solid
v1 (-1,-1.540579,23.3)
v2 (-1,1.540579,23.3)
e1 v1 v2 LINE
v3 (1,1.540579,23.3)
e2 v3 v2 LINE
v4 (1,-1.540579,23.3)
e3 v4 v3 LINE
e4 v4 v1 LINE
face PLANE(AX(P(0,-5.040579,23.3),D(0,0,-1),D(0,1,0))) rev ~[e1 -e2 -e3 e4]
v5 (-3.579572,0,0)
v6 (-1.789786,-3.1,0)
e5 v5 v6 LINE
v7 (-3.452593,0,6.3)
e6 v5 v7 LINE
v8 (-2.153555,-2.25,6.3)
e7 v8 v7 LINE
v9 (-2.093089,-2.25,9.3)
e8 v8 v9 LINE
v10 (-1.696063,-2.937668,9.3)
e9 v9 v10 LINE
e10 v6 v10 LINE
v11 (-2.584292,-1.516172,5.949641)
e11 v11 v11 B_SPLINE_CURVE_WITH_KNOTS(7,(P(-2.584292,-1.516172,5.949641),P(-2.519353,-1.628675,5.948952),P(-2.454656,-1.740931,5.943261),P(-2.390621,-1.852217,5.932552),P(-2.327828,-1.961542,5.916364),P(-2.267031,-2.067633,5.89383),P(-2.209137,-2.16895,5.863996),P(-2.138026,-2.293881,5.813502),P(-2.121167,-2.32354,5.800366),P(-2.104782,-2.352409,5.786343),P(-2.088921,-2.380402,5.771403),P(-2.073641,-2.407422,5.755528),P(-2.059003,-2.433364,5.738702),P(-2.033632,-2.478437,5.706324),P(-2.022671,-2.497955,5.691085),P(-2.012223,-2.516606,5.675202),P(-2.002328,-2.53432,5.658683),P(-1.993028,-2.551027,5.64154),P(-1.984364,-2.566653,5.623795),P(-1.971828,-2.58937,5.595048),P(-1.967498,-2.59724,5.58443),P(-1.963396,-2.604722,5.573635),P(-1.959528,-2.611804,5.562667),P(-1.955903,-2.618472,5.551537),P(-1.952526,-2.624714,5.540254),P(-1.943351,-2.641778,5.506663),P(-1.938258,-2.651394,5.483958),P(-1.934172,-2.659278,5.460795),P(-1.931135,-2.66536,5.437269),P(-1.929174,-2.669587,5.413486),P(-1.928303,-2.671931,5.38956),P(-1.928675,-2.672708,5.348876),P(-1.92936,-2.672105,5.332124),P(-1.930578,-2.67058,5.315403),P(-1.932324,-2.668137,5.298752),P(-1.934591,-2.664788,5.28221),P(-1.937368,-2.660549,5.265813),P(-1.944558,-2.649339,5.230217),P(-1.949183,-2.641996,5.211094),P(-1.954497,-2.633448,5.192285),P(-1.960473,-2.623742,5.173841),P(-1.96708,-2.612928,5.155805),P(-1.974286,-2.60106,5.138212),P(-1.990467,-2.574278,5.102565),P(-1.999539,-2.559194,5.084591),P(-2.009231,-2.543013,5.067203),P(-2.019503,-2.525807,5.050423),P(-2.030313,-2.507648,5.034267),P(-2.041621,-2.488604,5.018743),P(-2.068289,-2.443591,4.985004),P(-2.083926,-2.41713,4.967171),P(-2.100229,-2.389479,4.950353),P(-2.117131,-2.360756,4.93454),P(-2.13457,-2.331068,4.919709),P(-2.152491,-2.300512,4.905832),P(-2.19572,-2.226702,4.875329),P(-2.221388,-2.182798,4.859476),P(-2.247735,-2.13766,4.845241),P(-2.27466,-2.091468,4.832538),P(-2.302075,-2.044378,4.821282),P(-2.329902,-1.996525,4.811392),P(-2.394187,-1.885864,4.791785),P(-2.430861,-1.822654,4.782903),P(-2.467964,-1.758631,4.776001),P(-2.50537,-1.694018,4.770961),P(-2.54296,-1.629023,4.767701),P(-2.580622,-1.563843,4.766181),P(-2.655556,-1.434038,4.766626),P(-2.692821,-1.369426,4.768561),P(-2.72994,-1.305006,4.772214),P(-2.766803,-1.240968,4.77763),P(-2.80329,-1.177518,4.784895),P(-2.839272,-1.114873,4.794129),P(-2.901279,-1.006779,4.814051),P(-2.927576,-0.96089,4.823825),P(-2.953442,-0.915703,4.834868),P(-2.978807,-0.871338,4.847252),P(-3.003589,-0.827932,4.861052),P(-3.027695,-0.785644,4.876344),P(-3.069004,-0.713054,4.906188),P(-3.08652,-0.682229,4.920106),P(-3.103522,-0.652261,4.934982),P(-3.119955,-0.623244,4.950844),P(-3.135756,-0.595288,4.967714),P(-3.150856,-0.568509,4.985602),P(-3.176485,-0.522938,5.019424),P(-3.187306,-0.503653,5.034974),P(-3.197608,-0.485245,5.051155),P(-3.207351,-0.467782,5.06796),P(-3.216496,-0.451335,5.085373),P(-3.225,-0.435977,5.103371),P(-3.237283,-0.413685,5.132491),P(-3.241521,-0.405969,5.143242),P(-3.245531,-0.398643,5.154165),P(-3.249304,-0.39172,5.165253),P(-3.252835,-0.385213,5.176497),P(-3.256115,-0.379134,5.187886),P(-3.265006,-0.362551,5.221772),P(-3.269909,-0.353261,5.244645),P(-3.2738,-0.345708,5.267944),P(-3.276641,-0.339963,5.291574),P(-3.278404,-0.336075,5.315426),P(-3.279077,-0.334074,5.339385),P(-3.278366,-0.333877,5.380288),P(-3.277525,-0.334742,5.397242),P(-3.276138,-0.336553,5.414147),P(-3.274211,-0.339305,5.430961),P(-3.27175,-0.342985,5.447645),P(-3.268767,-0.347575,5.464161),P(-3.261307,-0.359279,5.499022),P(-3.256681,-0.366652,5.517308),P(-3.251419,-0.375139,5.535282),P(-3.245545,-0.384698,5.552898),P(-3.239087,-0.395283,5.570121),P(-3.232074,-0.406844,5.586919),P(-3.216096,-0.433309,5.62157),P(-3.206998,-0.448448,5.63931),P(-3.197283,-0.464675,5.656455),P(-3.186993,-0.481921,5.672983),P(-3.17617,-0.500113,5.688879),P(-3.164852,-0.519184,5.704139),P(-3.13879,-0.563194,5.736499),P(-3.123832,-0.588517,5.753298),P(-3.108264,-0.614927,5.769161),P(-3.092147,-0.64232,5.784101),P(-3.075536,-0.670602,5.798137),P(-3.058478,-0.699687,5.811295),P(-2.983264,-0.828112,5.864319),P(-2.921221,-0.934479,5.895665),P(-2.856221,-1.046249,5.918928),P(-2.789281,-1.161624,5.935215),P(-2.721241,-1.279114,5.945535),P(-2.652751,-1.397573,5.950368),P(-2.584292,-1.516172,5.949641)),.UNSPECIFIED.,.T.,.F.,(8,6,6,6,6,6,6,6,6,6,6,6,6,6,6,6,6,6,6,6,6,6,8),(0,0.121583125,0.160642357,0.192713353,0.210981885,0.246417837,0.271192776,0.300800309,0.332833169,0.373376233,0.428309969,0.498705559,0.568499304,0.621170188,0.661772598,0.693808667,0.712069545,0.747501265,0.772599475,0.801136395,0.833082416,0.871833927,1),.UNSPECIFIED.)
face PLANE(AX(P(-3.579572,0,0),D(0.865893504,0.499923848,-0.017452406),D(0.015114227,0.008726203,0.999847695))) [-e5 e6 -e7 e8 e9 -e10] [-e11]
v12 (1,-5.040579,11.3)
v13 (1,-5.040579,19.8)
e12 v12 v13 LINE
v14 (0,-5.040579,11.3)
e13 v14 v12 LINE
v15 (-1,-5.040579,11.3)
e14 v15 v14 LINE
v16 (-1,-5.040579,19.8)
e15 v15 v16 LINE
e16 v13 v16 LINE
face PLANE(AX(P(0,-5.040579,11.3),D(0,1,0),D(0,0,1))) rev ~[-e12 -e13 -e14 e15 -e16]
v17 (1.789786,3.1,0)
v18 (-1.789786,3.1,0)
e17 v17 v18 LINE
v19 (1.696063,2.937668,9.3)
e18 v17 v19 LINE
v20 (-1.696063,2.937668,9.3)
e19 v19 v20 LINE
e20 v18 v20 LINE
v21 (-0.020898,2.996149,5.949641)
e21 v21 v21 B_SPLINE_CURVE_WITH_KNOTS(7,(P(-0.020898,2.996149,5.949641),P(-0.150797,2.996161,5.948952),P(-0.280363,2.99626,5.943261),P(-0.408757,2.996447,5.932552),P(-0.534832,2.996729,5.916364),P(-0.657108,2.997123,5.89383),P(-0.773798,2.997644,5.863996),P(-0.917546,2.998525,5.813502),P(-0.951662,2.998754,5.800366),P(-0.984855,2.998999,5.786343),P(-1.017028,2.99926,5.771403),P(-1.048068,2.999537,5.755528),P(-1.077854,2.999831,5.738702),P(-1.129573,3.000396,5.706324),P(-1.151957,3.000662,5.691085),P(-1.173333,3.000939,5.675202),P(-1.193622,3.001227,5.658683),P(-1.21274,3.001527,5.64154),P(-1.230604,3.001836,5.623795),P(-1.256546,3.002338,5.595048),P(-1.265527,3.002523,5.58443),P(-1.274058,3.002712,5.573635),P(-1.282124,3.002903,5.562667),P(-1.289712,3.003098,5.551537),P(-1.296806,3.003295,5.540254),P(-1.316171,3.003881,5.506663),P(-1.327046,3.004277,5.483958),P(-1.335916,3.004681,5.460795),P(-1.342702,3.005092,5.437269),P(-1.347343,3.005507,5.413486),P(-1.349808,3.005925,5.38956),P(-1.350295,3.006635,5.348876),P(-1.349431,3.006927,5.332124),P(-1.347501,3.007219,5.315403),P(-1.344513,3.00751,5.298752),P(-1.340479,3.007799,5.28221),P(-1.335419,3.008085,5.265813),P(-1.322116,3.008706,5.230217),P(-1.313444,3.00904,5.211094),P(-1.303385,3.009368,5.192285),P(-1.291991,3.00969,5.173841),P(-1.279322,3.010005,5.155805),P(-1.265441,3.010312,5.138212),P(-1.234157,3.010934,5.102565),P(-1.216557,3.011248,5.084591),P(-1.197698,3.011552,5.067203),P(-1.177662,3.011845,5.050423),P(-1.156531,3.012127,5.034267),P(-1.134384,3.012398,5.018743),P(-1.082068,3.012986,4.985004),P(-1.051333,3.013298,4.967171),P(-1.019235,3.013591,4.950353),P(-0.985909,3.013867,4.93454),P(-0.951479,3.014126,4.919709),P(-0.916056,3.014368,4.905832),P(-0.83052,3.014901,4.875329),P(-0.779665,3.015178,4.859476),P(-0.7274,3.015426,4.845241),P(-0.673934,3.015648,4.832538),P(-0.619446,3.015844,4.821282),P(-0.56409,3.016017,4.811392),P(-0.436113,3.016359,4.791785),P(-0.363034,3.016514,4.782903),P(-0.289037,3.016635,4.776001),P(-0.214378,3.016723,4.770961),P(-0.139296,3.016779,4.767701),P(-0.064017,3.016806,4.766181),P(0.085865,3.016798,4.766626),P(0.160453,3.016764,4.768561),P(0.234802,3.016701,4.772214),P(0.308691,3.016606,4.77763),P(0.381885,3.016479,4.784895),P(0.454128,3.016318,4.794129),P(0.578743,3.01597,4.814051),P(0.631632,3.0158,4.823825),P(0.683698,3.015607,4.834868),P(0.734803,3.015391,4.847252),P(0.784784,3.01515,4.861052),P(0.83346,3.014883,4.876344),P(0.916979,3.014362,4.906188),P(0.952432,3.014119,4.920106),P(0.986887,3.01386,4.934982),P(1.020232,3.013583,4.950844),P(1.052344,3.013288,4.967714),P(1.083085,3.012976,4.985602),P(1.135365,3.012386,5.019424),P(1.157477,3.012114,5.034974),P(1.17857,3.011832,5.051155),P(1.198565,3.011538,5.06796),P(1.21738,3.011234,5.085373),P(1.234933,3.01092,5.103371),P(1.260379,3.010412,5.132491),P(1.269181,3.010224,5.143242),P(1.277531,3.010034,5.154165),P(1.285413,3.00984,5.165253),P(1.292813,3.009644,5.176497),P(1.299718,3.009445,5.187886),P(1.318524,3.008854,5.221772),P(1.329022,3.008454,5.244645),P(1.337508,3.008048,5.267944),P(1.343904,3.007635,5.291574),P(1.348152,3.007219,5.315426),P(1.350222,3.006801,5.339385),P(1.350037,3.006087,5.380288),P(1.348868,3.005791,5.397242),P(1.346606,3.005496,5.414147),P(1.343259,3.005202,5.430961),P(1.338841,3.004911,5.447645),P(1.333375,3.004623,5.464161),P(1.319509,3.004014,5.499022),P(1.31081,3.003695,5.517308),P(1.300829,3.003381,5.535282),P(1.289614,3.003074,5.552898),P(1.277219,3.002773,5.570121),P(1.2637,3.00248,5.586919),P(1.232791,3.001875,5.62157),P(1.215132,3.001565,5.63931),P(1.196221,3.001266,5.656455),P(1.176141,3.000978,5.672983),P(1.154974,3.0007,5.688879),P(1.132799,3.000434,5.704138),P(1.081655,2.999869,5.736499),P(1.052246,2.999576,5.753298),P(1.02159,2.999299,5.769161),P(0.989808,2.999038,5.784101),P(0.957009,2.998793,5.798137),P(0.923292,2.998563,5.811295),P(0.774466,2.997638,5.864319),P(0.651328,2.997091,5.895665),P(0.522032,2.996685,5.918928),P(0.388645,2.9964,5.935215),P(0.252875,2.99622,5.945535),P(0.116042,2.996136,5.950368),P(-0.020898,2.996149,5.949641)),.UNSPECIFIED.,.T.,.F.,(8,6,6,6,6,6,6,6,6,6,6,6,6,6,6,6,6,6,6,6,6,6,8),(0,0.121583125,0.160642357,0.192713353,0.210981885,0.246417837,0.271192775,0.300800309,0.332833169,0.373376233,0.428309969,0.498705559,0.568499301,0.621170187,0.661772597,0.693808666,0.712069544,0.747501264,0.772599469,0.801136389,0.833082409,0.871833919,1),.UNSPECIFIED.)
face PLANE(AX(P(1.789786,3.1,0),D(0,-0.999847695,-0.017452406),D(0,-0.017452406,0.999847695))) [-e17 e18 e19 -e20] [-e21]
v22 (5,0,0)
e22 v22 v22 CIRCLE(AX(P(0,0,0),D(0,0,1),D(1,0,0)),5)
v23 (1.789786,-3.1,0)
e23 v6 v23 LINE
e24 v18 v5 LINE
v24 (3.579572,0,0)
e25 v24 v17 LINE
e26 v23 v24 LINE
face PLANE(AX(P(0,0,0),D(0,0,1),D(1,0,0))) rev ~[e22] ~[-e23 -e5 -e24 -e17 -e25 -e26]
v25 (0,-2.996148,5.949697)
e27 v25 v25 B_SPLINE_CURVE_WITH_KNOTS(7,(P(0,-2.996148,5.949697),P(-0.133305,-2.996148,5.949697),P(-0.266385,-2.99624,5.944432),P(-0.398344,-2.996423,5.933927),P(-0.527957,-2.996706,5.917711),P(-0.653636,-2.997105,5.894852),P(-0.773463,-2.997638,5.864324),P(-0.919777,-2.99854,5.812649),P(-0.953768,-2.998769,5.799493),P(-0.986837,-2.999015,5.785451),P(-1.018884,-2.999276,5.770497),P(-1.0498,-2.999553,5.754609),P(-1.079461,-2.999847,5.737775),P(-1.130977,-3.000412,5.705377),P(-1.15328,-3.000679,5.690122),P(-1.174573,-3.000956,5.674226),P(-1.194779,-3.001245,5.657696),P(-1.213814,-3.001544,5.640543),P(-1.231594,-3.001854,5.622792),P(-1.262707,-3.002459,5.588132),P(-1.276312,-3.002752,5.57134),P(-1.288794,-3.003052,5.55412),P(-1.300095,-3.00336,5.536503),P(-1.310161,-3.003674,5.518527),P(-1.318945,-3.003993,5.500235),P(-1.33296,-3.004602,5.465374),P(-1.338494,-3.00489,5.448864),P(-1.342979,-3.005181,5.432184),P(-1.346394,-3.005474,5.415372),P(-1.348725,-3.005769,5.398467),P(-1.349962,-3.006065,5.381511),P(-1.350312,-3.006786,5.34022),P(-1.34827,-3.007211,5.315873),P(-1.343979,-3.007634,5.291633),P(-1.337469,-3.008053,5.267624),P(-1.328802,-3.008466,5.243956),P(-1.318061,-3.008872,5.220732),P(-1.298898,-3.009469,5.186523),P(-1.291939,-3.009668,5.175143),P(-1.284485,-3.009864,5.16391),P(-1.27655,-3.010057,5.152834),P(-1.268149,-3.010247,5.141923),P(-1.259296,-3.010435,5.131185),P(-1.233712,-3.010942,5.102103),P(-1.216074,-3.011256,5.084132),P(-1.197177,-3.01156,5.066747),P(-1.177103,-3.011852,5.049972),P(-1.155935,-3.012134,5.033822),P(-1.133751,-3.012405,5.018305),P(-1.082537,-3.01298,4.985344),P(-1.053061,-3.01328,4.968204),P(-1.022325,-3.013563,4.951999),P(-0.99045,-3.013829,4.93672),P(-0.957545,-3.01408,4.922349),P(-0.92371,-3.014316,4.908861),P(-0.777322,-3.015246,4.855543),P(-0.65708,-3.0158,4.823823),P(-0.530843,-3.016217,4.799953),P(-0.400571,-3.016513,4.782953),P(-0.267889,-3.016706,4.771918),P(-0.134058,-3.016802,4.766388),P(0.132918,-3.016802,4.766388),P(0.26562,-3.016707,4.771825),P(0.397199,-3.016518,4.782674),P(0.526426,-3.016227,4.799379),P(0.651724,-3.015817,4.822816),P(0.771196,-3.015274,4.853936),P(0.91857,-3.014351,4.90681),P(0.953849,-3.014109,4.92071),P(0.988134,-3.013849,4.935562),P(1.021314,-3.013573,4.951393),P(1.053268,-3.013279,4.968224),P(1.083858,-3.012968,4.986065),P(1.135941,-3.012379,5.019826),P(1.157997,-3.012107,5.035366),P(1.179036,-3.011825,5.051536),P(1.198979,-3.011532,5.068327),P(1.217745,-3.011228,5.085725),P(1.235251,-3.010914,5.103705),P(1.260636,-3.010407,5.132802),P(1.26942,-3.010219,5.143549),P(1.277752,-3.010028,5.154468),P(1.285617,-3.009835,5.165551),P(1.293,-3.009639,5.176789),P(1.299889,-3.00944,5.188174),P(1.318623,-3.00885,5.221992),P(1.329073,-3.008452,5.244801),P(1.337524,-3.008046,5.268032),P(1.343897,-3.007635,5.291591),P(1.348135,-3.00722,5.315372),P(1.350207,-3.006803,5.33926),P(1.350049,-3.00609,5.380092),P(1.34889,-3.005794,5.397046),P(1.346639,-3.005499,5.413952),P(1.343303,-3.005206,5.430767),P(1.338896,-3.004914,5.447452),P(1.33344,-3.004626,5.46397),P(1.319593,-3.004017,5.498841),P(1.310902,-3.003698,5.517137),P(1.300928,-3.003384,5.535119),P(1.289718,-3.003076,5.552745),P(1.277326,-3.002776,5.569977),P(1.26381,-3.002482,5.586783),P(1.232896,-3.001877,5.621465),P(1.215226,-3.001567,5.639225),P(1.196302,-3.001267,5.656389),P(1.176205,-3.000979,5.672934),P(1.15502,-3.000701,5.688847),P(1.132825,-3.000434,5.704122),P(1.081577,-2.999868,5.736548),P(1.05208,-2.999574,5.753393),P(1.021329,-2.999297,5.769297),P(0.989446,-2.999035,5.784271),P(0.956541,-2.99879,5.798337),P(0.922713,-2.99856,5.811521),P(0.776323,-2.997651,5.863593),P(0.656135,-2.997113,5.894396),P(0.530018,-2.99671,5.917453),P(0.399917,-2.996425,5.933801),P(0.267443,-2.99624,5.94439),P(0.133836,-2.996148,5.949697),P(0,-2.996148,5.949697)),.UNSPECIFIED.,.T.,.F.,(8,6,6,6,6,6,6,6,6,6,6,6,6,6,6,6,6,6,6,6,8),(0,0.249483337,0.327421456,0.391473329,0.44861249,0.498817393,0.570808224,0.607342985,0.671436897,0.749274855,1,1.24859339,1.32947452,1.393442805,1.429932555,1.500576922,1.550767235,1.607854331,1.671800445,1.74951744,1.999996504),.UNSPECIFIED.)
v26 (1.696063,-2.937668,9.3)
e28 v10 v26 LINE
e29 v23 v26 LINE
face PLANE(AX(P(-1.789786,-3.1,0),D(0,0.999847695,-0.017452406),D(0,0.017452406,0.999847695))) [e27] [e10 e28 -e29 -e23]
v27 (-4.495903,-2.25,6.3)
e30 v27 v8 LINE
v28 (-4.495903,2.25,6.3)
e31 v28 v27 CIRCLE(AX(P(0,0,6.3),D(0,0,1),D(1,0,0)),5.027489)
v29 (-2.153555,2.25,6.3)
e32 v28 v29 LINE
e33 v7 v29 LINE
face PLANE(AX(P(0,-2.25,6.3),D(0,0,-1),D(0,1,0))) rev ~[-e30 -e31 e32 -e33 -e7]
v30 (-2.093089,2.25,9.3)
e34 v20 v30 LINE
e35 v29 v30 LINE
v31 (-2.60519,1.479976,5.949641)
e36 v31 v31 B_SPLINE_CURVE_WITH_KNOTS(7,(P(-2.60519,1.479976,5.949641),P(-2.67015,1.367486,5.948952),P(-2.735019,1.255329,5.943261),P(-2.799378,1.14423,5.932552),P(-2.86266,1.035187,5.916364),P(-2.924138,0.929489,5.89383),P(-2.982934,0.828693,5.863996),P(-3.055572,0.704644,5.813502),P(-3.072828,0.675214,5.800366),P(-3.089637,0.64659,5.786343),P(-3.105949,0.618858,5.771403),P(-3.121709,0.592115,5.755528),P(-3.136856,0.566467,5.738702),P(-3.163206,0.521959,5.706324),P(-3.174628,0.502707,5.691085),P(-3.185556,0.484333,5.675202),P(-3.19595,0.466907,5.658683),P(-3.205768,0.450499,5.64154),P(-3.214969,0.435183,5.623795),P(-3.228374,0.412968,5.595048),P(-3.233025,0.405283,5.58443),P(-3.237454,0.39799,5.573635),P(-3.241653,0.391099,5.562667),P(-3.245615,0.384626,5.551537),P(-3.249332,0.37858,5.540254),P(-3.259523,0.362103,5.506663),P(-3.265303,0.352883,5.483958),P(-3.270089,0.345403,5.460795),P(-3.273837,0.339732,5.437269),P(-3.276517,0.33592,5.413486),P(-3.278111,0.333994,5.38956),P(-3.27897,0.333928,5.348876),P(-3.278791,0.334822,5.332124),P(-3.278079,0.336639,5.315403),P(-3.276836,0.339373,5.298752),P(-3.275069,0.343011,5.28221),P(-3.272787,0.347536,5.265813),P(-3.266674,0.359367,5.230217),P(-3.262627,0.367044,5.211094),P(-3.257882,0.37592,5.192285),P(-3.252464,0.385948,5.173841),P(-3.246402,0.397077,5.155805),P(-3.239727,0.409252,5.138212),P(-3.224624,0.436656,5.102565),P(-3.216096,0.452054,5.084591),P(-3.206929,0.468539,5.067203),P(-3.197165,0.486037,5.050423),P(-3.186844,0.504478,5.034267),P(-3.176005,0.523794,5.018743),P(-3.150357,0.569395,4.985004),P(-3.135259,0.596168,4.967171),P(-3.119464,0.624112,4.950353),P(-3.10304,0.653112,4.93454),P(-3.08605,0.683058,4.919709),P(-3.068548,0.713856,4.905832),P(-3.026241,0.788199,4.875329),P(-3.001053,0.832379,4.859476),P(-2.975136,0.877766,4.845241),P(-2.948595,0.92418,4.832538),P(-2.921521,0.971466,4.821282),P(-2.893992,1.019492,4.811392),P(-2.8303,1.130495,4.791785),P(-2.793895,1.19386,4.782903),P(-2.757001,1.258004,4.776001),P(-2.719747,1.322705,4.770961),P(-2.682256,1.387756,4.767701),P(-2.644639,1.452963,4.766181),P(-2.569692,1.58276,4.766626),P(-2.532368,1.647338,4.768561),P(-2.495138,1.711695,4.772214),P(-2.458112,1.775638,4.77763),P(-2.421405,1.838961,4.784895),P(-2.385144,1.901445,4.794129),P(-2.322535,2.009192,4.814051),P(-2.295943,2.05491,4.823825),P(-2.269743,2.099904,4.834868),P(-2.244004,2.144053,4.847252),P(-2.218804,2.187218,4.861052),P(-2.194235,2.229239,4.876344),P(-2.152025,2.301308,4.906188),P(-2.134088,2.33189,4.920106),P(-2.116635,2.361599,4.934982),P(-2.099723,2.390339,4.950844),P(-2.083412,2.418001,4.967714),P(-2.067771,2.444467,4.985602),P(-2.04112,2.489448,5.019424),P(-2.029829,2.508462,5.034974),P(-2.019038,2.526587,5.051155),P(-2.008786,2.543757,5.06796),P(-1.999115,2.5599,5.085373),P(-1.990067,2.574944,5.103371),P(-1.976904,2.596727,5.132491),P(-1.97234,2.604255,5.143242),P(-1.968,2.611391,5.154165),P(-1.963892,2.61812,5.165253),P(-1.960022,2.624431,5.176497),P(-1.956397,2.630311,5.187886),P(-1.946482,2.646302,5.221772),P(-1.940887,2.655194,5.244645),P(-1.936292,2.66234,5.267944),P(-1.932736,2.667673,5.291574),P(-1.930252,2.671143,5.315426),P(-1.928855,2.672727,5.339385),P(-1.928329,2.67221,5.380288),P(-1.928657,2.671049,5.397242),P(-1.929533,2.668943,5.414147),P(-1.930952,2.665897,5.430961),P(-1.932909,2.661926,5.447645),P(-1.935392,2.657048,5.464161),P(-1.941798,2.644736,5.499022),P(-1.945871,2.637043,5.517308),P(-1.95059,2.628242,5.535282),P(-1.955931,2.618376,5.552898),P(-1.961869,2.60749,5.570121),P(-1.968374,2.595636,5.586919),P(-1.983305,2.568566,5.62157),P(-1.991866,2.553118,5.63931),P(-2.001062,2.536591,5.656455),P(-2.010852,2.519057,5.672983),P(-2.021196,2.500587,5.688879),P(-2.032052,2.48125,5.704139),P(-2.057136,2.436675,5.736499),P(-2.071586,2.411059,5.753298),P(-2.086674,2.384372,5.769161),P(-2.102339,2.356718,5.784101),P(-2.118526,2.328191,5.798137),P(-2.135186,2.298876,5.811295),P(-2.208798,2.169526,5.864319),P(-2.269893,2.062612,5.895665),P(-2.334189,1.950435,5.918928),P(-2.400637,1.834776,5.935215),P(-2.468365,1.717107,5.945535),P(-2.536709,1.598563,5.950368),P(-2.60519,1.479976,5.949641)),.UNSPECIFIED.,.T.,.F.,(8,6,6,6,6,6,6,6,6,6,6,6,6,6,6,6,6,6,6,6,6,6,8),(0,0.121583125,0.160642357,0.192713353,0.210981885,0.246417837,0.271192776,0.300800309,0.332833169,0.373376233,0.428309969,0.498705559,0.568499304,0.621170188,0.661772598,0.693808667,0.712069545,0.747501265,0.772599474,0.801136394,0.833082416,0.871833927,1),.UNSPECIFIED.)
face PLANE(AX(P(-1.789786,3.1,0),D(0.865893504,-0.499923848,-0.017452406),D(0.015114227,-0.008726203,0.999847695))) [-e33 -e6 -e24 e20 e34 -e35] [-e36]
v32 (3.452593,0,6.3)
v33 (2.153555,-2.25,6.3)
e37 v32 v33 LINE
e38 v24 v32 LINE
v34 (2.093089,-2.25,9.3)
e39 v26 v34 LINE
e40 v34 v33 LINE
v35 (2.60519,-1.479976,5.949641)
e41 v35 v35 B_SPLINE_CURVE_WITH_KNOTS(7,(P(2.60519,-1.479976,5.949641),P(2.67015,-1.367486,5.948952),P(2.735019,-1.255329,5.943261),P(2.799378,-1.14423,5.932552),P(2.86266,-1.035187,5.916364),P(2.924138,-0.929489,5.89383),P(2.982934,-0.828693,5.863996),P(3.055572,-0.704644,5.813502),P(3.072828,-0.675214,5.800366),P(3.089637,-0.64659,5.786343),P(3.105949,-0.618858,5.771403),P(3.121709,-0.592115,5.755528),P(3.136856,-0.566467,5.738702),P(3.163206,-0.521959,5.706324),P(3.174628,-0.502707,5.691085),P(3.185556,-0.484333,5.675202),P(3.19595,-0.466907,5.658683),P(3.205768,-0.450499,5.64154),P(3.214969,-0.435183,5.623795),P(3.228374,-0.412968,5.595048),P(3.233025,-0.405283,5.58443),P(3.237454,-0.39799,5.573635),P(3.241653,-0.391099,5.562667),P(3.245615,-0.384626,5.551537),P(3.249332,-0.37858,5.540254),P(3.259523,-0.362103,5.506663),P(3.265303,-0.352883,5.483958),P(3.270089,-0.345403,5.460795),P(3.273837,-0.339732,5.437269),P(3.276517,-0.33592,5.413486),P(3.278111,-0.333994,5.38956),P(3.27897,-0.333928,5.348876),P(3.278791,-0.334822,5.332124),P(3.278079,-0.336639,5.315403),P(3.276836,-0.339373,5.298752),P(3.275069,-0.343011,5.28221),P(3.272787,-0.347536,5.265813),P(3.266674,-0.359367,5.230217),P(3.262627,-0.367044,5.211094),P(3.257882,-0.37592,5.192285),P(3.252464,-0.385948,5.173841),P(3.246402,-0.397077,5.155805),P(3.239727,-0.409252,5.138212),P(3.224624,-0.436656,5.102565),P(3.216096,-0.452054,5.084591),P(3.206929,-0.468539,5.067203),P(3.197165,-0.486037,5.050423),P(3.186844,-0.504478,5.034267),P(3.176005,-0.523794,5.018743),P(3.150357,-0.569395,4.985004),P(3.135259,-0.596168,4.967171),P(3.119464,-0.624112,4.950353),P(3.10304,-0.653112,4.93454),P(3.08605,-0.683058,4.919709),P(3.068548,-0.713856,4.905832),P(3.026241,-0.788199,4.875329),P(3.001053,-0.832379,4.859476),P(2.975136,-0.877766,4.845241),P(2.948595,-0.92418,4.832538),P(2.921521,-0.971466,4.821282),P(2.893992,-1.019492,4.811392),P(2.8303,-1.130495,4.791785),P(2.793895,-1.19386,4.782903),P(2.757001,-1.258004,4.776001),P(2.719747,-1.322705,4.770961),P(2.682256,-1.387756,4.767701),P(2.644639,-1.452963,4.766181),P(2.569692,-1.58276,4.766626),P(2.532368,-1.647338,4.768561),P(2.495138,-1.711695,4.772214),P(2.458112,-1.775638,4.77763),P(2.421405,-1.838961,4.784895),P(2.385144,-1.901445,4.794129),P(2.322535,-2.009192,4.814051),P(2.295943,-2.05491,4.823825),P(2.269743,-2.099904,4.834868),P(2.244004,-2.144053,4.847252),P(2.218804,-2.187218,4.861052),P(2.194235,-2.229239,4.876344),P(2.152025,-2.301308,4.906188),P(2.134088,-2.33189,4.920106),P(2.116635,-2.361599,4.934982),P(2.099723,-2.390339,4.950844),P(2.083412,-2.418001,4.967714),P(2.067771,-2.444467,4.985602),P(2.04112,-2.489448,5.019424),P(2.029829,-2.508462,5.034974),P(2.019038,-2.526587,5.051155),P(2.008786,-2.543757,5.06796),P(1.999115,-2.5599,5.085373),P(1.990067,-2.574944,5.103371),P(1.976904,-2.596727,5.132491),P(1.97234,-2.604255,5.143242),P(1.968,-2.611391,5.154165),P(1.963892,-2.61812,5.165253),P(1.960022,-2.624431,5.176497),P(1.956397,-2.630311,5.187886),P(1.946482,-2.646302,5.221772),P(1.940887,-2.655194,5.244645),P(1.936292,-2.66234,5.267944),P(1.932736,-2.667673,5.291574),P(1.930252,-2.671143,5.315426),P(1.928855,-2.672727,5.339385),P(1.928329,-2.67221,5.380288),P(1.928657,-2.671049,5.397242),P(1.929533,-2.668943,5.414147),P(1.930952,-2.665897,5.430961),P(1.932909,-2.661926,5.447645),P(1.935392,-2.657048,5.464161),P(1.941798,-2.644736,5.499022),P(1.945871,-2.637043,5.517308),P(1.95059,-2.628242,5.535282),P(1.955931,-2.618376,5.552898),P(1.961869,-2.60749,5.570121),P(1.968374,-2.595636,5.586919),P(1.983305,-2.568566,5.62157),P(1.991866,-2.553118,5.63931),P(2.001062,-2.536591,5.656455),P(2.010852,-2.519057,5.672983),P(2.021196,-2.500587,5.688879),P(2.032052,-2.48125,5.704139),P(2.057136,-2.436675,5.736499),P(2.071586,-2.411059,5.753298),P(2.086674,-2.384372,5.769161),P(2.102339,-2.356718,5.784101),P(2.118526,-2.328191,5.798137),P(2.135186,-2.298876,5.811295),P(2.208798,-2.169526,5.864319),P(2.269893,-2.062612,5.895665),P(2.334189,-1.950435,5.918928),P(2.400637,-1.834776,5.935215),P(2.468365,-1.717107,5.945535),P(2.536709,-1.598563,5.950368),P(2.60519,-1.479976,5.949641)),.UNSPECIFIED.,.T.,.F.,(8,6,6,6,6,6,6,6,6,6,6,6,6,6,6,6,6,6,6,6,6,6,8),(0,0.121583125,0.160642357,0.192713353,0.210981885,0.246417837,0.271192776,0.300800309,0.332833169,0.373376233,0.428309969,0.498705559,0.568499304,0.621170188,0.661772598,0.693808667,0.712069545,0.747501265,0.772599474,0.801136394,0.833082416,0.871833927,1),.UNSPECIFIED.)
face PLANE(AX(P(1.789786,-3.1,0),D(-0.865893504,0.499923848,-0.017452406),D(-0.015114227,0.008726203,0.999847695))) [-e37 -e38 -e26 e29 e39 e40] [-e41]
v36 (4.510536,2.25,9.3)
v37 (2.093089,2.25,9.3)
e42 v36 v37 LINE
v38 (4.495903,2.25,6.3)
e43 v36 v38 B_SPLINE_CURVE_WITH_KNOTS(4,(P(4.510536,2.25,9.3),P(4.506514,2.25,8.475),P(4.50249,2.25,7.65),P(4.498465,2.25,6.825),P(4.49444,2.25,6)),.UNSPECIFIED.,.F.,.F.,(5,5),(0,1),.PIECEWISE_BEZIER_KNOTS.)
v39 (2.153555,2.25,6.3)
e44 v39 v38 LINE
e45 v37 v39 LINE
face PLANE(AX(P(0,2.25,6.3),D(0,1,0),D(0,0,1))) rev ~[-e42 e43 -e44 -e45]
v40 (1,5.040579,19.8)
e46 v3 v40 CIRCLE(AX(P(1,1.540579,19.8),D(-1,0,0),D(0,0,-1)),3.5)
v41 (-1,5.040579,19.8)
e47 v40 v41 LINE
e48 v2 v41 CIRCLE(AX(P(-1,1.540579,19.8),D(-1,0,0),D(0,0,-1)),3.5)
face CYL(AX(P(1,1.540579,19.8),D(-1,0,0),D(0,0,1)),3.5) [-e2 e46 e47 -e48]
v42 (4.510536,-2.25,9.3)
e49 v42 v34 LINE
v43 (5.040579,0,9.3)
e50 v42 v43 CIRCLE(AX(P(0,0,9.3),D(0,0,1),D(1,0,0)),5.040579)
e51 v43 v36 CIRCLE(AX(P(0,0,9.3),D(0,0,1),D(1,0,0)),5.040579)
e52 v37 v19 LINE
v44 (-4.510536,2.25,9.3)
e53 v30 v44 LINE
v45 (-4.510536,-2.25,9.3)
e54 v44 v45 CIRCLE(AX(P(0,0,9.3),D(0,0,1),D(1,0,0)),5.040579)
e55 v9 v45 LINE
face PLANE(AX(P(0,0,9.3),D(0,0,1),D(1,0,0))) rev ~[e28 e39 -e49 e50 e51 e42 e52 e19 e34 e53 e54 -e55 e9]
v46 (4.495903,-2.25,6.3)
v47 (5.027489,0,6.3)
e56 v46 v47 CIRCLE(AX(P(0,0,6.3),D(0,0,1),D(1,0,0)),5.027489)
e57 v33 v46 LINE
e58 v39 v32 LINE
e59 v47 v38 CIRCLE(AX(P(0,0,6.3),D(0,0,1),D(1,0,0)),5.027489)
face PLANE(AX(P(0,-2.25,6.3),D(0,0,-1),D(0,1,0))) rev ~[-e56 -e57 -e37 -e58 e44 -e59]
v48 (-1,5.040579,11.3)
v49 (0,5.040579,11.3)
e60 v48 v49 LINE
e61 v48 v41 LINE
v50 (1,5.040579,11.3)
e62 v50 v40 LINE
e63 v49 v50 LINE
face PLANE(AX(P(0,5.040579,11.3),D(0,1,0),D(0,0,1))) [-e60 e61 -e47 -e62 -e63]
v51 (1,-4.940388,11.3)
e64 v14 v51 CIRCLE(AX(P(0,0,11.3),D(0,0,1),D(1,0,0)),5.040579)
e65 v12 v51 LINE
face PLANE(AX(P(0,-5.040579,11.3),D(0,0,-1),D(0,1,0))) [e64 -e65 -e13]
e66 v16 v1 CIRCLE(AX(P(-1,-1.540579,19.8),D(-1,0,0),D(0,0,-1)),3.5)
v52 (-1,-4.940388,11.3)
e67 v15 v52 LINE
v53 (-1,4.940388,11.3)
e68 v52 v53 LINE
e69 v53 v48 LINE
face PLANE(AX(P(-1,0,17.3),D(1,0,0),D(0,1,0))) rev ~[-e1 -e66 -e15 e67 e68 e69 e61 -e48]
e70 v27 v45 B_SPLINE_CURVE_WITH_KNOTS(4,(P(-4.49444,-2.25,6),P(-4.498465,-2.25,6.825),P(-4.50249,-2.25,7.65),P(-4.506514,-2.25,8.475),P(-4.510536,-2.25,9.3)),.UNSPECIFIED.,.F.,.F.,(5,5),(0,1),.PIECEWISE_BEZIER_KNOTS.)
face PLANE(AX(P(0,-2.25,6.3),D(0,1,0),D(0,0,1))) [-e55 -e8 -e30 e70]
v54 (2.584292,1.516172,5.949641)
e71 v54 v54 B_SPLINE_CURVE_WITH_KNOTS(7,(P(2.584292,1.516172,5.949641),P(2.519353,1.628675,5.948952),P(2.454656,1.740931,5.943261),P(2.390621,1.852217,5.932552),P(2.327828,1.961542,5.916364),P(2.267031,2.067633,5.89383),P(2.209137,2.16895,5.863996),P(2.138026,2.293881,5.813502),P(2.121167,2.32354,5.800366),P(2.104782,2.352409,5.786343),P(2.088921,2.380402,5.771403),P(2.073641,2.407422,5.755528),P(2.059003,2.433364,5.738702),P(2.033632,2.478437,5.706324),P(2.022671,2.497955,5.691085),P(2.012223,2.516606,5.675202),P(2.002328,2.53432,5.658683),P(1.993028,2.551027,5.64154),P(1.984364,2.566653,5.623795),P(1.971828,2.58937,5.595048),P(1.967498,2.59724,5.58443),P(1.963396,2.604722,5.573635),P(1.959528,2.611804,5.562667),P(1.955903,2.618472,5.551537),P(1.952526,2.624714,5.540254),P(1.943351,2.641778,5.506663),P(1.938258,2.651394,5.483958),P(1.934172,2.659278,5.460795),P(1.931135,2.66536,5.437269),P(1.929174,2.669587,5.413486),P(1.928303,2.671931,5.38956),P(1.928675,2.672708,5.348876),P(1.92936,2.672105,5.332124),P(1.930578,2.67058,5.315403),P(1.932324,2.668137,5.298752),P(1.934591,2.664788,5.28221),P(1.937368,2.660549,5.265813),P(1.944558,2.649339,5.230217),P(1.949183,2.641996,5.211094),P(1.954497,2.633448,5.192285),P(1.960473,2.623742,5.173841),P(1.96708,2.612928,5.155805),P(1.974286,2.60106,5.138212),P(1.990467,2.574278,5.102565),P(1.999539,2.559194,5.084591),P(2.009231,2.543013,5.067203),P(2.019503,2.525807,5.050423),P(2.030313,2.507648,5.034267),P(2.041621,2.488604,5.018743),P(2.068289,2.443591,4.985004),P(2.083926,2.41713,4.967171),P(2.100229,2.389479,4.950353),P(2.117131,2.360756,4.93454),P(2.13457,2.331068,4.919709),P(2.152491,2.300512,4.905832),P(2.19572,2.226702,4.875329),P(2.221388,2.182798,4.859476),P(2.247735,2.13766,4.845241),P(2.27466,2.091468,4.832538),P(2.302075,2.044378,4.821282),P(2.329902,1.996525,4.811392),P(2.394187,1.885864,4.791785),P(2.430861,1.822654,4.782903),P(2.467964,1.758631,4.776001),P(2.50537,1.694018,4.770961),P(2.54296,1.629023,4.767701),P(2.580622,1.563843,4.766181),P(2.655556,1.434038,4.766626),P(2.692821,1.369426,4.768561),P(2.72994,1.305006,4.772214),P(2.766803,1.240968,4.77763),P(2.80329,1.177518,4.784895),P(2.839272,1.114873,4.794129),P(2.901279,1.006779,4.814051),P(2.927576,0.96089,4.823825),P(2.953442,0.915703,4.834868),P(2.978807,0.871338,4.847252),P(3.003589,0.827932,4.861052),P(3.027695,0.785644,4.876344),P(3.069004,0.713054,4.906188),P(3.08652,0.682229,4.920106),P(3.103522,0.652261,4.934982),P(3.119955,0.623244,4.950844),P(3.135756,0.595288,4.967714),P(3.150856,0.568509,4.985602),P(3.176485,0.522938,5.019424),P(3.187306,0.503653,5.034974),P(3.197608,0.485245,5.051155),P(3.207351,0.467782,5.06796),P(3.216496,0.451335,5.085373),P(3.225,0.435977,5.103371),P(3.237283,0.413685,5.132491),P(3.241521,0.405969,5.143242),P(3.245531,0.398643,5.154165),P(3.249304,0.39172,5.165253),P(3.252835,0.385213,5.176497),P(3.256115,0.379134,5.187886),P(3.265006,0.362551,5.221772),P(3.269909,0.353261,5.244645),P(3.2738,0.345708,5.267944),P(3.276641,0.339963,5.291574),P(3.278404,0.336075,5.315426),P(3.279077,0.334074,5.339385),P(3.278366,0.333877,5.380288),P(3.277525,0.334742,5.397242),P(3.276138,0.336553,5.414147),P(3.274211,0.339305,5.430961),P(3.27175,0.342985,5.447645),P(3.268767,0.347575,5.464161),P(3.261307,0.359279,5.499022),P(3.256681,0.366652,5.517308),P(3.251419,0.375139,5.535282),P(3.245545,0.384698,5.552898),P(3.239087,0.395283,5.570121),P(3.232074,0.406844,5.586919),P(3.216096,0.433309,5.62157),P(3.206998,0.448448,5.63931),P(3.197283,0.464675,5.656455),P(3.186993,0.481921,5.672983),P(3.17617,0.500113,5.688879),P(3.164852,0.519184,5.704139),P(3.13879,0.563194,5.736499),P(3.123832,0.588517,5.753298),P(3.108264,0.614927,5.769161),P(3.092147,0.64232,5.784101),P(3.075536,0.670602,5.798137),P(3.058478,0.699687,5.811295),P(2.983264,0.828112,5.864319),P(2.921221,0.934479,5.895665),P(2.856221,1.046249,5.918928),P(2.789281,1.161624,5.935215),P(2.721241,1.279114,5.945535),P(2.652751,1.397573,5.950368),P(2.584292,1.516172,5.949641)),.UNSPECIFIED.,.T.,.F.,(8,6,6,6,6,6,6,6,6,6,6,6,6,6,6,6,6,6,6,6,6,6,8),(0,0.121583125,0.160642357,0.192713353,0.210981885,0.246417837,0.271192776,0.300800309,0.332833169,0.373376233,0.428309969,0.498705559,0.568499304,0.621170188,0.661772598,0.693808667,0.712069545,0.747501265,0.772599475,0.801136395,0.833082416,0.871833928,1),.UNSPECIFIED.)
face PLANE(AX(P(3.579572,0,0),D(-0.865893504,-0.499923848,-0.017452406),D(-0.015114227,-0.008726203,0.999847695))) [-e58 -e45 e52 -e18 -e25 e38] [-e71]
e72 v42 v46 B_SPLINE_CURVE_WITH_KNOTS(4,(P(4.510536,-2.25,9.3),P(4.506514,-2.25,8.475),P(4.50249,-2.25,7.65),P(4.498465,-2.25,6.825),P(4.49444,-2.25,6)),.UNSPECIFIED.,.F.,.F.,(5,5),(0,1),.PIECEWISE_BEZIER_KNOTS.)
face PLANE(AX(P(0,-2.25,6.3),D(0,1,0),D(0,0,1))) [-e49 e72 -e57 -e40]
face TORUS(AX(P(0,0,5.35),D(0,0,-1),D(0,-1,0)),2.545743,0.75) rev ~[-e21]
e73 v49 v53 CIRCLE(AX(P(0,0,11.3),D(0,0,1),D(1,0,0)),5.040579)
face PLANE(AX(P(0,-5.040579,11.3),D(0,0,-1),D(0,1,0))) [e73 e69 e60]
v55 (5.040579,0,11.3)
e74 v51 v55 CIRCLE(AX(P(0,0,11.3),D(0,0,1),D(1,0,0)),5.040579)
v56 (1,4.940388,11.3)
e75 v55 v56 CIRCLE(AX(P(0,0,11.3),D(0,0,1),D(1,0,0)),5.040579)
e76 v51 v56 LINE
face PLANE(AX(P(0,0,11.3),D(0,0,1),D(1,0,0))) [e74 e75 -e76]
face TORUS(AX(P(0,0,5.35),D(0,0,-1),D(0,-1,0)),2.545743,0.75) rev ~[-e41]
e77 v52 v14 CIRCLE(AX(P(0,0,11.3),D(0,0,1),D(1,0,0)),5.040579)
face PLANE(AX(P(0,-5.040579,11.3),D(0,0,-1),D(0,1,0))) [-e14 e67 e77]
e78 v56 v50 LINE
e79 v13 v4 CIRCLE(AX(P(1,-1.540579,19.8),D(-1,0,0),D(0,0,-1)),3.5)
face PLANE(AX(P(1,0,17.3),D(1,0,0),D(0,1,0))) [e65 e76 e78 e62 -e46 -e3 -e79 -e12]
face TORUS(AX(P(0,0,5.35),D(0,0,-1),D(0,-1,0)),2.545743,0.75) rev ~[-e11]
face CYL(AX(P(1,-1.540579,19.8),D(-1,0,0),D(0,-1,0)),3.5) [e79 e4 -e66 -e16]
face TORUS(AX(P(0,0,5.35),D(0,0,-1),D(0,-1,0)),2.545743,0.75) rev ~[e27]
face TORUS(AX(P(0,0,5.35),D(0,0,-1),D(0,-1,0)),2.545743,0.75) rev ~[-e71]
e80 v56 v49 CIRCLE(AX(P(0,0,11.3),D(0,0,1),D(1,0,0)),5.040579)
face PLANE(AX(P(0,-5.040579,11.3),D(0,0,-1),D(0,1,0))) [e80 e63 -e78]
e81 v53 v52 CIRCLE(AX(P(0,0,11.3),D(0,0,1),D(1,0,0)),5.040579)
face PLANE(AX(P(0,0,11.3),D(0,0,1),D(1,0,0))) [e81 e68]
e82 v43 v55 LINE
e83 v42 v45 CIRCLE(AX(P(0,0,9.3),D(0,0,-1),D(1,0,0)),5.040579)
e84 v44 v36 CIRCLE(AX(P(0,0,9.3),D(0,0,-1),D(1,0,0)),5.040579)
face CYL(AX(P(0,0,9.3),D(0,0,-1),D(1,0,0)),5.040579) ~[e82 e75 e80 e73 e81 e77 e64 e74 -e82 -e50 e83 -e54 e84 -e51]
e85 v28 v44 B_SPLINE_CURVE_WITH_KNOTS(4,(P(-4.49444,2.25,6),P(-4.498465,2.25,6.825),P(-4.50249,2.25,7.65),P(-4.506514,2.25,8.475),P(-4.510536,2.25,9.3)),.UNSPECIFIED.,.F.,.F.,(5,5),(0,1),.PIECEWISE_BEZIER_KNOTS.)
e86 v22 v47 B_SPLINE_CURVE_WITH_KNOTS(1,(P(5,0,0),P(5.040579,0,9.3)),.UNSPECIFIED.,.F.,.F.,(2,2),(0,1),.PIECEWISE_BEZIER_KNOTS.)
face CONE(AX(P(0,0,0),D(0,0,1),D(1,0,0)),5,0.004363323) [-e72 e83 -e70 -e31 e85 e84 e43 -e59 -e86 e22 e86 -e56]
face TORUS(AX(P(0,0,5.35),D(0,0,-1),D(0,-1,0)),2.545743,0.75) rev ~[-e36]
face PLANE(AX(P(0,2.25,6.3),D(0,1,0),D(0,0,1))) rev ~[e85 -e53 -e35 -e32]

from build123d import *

# Parameters (mm, degrees)
F0_R      = 5
F1_DEPTH  = 9.3
F1_TAPER  = -0.25
F3_DEPTH  = 9.3
F3_TAPER  = 1
F4_R      = 0.75
F6_W      = 4.5
F6_H      = 3
F7_DEPTH  = 7.2
F8_R      = 5.0405791626
F9_DEPTH  = 2
F10_W     = 10.0811583253
F10_H     = 12
F11_DEPTH = 1
F12_R     = 3.5


with BuildPart() as f1:
    # F0 (on Top) → F1 (new body)
    with BuildSketch(Plane.XY):
        Circle(F0_R)
        Polygon((1.7897858345, 3.1), (3.579571669, 0), (1.7897858345, -3.1), (-1.7897858345, -3.1), (-3.579571669, 0), (-1.7897858345, 3.1), align=None, mode=Mode.SUBTRACT)
        Polygon((1.7897858345, -3.1), (3.579571669, 0), (1.7897858345, 3.1), (-1.7897858345, 3.1), (-3.579571669, 0), (-1.7897858345, -3.1), align=None)
    extrude(amount=F1_DEPTH, taper=F1_TAPER)

    # F2 (on Top) → F3 (cut)
    with BuildSketch(Plane.XY):
        Polygon((1.7897858345, -3.1), (3.579571669, 0), (1.7897858345, 3.1), (-1.7897858345, 3.1), (-3.579571669, 0), (-1.7897858345, -3.1), align=None)
    extrude(amount=F3_DEPTH, taper=F3_TAPER, mode=Mode.SUBTRACT)

    # F4 (on Right) → F5 (revolve, cut)
    with BuildSketch(Plane.YZ):
        with Locations((-2.5457434822, 5.35)):
            Circle(F4_R)
    revolve(axis=Axis((0, 0, 4.7348800581), (0, 0, -1)), mode=Mode.SUBTRACT)

    # F6 (on Right) → F7 (cut, symmetric)
    with BuildSketch(Plane.YZ):
        with Locations((0, 7.8)):
            Rectangle(F6_W, F6_H)
    extrude(amount=F7_DEPTH, both=True, mode=Mode.SUBTRACT)

    # F8 (on face) → F9 (join)
    with BuildSketch(Plane.XY.offset(9.3)):
        Circle(F8_R)
    extrude(amount=F9_DEPTH)

    # F10 (on Right) → F11 (join, symmetric)
    with BuildSketch(Plane.YZ):
        with Locations((0, 17.3)):
            Rectangle(F10_W, F10_H)
    extrude(amount=F11_DEPTH, both=True)

    # F12
    f12_edges = [f1.edges().sort_by_distance(p)[0] for p in [
        (0, -5.040579, 23.3),
        (0, 5.040579, 23.3),
    ]]
    fillet(f12_edges, radius=F12_R)


solid = f1.part
